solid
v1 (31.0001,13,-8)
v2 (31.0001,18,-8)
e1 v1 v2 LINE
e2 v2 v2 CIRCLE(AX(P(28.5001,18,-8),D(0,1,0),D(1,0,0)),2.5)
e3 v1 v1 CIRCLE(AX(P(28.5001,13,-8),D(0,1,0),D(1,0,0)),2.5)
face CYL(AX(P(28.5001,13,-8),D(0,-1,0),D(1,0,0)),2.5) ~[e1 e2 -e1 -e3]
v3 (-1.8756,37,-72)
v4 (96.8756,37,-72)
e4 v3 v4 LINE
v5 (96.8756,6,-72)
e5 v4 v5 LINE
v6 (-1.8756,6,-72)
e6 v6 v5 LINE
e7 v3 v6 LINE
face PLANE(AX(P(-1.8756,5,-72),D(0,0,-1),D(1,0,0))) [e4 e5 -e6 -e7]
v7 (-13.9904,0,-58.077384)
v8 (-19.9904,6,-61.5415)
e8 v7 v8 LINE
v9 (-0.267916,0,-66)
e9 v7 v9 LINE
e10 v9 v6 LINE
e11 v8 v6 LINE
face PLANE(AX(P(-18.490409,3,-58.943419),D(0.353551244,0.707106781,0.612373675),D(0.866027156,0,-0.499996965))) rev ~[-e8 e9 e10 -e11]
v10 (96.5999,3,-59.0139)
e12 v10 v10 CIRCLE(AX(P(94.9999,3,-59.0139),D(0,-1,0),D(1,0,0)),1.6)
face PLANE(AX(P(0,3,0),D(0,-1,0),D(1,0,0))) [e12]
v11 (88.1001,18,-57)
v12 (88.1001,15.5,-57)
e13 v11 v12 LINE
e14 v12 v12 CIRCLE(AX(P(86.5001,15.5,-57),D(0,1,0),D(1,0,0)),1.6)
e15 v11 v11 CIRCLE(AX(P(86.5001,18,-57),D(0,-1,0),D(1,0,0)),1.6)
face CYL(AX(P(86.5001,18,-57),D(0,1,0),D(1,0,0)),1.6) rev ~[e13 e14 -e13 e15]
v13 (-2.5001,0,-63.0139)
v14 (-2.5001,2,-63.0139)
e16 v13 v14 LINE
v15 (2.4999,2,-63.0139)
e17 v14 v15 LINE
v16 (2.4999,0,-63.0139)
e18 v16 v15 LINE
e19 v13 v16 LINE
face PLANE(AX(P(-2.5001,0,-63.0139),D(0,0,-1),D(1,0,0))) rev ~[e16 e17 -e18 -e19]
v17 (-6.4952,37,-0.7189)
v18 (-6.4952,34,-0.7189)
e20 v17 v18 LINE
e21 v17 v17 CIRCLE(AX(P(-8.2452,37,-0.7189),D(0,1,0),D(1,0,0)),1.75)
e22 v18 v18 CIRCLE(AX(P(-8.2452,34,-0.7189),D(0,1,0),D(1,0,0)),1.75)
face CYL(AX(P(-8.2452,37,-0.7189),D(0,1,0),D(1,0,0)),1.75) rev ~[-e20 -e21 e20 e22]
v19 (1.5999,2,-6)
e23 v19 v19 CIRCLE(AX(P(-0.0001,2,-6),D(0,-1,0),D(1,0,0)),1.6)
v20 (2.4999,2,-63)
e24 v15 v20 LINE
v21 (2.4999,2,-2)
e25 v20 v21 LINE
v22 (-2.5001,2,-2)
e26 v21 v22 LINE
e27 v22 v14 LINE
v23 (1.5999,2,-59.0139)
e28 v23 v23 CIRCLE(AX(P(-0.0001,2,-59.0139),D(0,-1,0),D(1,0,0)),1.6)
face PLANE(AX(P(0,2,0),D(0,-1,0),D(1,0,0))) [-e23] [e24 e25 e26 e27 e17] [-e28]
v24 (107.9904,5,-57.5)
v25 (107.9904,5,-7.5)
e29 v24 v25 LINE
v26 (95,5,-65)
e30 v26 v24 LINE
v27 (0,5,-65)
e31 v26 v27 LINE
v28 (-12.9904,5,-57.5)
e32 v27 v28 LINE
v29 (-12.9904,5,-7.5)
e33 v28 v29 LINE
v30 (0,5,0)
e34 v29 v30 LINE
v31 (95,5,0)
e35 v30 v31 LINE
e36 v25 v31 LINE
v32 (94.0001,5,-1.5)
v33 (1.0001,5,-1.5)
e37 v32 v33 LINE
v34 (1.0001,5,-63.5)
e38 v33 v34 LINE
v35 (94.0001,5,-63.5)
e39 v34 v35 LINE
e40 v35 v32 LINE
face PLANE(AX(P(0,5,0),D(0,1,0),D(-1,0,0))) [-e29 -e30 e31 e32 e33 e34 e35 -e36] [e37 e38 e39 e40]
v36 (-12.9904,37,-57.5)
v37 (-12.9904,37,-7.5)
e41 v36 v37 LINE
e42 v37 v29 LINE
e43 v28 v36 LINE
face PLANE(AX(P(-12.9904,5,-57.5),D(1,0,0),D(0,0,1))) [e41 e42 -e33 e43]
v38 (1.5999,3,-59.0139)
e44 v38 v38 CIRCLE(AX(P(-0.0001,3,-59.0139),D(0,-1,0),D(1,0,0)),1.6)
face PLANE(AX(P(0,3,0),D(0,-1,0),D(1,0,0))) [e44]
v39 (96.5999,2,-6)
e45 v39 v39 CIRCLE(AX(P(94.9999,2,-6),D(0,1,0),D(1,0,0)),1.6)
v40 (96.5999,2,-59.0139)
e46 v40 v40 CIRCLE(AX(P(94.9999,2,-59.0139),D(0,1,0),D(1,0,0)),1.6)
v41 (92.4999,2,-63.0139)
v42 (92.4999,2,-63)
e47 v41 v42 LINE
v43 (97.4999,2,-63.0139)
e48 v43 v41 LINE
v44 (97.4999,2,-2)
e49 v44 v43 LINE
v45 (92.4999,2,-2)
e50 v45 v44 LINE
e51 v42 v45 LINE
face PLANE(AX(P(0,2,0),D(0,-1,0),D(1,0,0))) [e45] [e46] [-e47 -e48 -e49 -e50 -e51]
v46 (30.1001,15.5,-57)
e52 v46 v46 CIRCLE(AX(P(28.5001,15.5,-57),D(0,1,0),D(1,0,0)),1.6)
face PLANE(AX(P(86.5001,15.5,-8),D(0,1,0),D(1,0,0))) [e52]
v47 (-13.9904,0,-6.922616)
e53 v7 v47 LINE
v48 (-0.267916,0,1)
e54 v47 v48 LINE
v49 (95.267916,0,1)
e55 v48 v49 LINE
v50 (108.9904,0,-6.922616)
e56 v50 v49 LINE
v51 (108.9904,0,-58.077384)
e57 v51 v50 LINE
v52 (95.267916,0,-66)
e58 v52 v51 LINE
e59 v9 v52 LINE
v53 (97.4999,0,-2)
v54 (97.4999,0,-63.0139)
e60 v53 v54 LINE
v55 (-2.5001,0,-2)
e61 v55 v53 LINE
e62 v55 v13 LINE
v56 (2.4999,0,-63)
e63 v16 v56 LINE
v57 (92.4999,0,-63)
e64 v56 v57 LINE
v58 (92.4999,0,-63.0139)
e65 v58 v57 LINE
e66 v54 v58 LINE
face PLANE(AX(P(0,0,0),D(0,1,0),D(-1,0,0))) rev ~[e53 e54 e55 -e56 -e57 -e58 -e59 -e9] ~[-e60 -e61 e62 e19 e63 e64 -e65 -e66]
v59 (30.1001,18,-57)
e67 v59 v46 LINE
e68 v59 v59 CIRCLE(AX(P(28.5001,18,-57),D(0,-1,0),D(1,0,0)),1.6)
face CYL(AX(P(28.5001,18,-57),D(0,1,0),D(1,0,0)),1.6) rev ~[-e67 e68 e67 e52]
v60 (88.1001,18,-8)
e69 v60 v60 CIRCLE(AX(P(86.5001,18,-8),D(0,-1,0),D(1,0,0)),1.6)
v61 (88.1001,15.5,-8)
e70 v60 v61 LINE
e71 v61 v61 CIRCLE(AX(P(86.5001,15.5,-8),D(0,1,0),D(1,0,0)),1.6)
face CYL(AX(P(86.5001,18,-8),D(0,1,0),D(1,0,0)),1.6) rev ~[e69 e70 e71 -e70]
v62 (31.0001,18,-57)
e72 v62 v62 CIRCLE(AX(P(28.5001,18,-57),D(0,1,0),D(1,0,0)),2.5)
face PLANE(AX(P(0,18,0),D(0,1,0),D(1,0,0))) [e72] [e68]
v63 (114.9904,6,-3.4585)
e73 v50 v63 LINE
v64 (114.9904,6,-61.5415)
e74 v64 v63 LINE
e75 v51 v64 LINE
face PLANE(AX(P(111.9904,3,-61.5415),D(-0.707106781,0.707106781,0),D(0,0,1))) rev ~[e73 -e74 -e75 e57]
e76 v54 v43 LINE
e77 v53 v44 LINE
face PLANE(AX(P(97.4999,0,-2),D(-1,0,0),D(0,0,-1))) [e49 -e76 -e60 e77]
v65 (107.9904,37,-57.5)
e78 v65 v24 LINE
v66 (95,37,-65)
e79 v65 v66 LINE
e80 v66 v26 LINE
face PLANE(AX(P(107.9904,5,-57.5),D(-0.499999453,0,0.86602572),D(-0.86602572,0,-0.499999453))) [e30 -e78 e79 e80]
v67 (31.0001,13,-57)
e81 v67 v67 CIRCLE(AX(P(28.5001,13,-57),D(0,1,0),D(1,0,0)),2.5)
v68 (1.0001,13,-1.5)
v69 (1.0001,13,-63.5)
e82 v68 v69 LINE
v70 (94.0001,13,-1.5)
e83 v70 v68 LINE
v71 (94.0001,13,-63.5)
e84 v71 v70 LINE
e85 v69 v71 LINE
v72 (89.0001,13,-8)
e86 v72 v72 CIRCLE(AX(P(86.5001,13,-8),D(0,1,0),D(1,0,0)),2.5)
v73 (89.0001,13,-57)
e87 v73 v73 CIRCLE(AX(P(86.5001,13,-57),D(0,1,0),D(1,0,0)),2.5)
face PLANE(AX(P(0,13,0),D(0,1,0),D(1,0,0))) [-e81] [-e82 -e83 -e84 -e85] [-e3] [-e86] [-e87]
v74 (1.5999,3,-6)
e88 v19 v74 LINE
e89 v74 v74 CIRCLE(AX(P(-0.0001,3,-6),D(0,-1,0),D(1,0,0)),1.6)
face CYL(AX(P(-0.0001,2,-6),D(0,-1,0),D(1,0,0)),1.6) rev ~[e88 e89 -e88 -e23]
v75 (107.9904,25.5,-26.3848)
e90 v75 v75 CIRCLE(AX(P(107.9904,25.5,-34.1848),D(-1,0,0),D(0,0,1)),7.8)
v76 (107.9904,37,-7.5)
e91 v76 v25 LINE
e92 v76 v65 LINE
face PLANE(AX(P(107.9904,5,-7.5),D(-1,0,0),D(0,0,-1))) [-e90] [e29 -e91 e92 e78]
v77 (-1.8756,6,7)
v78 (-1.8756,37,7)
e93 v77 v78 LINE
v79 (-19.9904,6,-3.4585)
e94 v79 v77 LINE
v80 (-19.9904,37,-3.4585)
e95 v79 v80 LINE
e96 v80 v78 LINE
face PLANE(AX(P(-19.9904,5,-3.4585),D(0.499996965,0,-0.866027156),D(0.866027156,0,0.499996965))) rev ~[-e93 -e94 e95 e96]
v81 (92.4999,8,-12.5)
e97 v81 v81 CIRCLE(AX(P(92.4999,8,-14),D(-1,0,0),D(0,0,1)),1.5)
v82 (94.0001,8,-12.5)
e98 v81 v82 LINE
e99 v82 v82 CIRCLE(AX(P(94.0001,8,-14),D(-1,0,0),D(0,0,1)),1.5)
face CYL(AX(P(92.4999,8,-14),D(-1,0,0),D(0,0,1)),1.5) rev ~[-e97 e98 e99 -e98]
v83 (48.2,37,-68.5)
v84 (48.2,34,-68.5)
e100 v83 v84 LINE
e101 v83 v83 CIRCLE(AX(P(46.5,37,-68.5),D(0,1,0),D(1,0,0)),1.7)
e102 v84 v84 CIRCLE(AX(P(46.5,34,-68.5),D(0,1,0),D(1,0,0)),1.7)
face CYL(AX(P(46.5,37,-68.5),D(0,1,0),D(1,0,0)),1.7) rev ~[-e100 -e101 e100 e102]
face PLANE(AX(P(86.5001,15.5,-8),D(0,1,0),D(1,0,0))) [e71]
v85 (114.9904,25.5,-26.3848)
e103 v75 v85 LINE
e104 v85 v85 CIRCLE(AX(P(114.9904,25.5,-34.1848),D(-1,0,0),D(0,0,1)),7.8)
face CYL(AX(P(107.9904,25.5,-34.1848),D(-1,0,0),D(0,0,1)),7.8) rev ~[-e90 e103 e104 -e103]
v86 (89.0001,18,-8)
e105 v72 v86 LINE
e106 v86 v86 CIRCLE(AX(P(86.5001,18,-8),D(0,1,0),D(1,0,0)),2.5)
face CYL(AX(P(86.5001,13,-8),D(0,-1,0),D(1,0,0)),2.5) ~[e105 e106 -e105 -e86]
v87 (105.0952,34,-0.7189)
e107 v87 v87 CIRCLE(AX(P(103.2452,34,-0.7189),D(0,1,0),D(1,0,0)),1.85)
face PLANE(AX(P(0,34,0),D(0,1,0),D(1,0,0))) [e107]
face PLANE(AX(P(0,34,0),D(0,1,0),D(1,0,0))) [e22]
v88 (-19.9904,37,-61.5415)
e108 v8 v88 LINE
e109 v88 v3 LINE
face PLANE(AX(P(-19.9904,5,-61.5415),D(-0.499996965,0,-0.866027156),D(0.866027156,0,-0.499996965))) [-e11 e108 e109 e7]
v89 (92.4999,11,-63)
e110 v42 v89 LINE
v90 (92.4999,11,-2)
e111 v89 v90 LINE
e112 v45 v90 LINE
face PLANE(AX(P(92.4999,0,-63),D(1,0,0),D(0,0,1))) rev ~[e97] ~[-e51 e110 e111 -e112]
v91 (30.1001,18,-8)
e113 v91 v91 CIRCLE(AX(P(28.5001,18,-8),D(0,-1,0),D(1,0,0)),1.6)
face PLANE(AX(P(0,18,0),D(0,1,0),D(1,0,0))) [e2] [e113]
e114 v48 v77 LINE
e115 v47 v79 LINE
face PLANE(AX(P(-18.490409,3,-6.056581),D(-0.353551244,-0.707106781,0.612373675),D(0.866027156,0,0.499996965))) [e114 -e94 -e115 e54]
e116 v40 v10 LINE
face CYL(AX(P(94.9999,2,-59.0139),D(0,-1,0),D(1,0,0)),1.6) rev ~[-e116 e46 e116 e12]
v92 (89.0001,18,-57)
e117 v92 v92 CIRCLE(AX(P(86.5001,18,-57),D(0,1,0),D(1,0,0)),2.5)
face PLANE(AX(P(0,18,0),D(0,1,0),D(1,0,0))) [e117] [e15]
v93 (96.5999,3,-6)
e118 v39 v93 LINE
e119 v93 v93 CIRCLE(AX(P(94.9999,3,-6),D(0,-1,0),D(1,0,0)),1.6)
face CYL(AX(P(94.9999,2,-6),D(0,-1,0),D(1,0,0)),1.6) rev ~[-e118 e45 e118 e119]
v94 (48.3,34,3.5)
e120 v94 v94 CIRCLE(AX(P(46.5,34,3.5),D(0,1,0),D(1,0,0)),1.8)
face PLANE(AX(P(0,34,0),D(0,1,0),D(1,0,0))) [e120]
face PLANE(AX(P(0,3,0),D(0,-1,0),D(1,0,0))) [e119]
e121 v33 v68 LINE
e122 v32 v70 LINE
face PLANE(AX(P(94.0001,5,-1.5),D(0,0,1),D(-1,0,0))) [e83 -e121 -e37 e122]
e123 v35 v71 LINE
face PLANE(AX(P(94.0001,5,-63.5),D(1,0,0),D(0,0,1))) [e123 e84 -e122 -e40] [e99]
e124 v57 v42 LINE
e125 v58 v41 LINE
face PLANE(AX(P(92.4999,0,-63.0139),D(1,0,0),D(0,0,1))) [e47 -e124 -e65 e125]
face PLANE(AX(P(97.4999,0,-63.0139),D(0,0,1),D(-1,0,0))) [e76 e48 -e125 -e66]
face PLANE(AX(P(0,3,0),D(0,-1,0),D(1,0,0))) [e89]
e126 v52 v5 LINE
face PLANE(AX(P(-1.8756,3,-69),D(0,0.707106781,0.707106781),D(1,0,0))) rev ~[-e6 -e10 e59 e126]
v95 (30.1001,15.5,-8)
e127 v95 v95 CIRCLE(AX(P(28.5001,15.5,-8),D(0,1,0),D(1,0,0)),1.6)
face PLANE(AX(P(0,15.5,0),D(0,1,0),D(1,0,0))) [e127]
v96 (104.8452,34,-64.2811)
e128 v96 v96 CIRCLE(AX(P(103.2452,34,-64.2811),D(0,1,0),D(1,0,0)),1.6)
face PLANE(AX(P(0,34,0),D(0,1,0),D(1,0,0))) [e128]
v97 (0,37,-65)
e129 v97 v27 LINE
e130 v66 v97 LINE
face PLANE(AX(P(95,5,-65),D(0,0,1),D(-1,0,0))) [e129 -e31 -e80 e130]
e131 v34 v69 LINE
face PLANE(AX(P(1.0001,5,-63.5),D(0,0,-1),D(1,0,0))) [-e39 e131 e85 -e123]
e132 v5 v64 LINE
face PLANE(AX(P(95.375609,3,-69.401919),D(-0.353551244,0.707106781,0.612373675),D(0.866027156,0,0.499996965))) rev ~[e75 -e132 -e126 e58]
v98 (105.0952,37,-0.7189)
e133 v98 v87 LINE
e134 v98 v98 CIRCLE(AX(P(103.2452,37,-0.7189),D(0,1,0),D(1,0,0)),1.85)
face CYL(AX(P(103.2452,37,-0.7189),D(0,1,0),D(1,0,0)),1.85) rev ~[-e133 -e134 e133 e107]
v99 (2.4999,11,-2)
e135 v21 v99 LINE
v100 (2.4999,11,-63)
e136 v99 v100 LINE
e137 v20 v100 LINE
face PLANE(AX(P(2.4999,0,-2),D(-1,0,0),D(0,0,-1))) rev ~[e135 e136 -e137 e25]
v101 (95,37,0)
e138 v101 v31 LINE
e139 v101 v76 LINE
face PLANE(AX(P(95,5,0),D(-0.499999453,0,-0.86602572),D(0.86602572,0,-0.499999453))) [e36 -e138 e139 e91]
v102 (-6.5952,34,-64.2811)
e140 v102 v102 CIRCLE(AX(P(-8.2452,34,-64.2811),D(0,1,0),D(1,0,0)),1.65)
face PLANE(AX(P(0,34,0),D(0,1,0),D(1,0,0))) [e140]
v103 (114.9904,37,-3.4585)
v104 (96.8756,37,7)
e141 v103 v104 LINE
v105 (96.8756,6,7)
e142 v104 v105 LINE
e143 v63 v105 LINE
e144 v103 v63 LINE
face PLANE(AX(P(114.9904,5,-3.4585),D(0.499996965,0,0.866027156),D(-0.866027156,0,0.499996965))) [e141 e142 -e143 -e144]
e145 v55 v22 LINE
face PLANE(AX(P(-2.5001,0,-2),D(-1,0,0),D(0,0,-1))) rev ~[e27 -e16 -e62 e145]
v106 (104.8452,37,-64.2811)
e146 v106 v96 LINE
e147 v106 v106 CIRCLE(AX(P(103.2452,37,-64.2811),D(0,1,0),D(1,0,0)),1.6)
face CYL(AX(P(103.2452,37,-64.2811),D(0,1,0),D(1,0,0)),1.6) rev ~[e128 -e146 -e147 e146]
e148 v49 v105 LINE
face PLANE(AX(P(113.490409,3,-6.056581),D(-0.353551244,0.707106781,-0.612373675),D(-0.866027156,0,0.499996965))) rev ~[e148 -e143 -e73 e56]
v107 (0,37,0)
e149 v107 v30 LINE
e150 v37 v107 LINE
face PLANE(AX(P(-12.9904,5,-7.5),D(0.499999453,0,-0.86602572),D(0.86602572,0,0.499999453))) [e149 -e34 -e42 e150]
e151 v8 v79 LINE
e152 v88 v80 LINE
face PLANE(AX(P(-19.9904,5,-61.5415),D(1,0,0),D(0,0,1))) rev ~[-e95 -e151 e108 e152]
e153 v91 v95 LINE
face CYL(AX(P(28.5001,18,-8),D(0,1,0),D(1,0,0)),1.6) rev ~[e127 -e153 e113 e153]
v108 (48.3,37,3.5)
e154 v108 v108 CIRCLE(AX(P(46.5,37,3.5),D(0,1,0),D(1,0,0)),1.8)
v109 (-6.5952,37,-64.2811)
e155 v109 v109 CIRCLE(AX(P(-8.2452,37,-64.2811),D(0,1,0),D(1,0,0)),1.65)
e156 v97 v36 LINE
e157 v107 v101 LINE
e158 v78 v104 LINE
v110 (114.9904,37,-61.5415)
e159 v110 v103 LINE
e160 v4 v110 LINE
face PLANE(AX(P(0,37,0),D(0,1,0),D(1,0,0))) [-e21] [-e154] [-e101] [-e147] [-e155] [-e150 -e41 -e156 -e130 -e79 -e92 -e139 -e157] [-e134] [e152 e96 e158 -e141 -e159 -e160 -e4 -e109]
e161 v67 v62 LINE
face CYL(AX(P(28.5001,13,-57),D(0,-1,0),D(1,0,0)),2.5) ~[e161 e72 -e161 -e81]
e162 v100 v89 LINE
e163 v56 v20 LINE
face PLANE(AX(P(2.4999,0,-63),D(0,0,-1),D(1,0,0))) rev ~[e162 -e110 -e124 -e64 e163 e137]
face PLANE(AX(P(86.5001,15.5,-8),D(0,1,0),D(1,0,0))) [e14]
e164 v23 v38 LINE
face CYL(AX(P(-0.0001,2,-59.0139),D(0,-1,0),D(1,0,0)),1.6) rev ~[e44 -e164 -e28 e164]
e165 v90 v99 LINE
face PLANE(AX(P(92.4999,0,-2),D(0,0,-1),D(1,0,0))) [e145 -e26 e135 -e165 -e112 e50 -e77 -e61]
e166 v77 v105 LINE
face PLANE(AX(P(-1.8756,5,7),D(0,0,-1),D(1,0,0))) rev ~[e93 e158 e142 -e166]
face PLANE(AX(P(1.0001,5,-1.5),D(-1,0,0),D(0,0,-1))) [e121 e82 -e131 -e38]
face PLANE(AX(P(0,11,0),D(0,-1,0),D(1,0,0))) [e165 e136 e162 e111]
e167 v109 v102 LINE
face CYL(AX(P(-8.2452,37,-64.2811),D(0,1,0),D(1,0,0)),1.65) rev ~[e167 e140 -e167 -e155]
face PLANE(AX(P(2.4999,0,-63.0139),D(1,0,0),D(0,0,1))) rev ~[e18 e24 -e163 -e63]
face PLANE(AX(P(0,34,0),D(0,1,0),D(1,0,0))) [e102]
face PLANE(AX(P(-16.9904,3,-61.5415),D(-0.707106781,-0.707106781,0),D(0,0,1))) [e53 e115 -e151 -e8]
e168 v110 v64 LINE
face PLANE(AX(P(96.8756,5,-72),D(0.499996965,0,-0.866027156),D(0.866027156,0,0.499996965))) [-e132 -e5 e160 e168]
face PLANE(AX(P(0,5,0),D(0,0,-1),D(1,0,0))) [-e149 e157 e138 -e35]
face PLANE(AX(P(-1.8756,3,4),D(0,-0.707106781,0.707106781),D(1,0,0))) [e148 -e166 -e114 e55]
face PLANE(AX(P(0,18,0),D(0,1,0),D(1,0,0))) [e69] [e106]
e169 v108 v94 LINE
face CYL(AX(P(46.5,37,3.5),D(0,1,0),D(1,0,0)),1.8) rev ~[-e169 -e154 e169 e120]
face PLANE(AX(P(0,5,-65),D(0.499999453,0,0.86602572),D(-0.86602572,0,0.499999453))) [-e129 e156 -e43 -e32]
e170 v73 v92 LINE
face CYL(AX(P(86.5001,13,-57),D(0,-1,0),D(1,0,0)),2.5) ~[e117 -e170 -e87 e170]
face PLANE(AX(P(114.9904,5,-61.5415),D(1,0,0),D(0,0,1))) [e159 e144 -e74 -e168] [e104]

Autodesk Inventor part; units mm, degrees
ref_plane "YZ Plane" through (0, 0, 0) normal (1, 0, 0) x (0, 1, 0)
ref_plane "XZ Plane" through (0, 0, 0) normal (0, 1, 0) x (-1, 0, 0)
sketch "Sketch1" plane through (0, 0, 0) normal (0, 1, 0) x (-1, 0, 0)
  line L0 (0, 0) -> (-95, 0)
  line L1 (-95, 0) -> (-95, -65)
  line L2 (-95, -65) -> (0, -65)
  line L3 (0, -65) -> (0, 0)
  line L4 (0, -65) -> (12.9904, -57.5)
  line L5 (12.9904, -57.5) -> (12.9904, -7.5)
  line L6 (12.9904, -7.5) -> (0, 0)
  line L7 (-95, -65) -> (-107.9904, -57.5)
  line L8 (-107.9904, -57.5) -> (-107.9904, -7.5)
  line L9 (-107.9904, -7.5) -> (-95, 0)
  dimension "d0" = 95
  dimension "d1" = 65
  dimension "d2" = 15
  dimension "d3" = 15
  dimension "d4" = 120
  dimension "d5" = 15
  dimension "d6" = 15
  dimension "d7" = 120
extrude "Extrusion1" add sketch "Sketch1" along normal blind 5
sketch "Sketch2" plane through (0, 5, 0) normal (0, 1, 0) x (1, 0, 0)
  line L0 (1.0001, 63.5) -> (94.0001, 63.5)
  line L1 (94.0001, 63.5) -> (94.0001, 1.5)
  line L2 (94.0001, 1.5) -> (1.0001, 1.5)
  line L3 (1.0001, 1.5) -> (1.0001, 63.5)
  line L4 (0, 0) -> (95, 0) projected
  line L5 (-12.9904, 57.5) -> (-12.9904, 7.5) projected
  dimension "d10" = 93
  dimension "d11" = 62
  dimension "d12" = 1.5
  dimension "d13" = 13.9905
extrude "Extrusion2" add sketch "Sketch2" along normal blind 8
sketch "Sketch4" plane through (0, 5, 0) normal (0, 1, 0) x (1, 0, 0)
  line L0 (-12.9904, 57.5) -> (-12.9904, 7.5) projected
  line L1 (-12.9904, 57.5) -> (-12.9904, 7.5)
  line L2 (-12.9904, 7.5) -> (0, 0)
  line L3 (0, 0) -> (95, 0)
  line L4 (95, 0) -> (107.9904, 7.5) projected
  line L5 (95, 0) -> (107.9904, 7.5)
  line L6 (107.9904, 7.5) -> (107.9904, 57.5)
  line L7 (107.9904, 57.5) -> (95, 65) projected
  line L8 (107.9904, 57.5) -> (95, 65)
  line L9 (95, 65) -> (0, 65) projected
  line L10 (95, 65) -> (0, 65)
  line L11 (0, 65) -> (-12.9904, 57.5)
  line L12 (-19.9904, 61.5415) -> (-19.9904, 3.4585)
  line L13 (114.9904, 61.5415) -> (114.9904, 3.4585)
  line L14 (-1.8756, 72) -> (96.8756, 72)
  line L15 (-19.9904, 61.5415) -> (-1.8756, 72)
  line L16 (96.8756, 72) -> (114.9904, 61.5415)
  line L17 (114.9904, 3.4585) -> (96.8756, -7)
  line L18 (-19.9904, 3.4585) -> (-1.8756, -7)
  line L19 (-1.8756, -7) -> (96.8756, -7)
  line L20 (95, 0) -> (107.9904, 7.5) projected
  line L21 (107.9904, 7.5) -> (107.9904, 57.5) projected
  line L22 (0, 0) -> (95, 0) projected
  dimension "d22" = 7
  dimension "d23" = 7
  dimension "d24" = 7
  dimension "d25" = 7
  dimension "d26" = 7
  dimension "d27" = 7
  dimension "d28" = 7
  dimension "d29" = 7
extrude "Extrusion4" add sketch "Sketch4" along normal blind 32 and the other way blind 5
sketch "Sketch5" plane through (0, 0, 0) normal (0, -1, 0) x (1, 0, 0)
  line L0 (2.4999, -63) -> (92.4999, -63)
  line L1 (92.4999, -63) -> (92.4999, -2)
  line L2 (92.4999, -2) -> (2.4999, -2)
  line L3 (2.4999, -2) -> (2.4999, -63)
  line L4 (0, 0) -> (95, 0) projected
  line L5 (-12.9904, -57.5) -> (-12.9904, -7.5) projected
  line L6 (96.8756, 7) -> (-1.8756, 7) projected
  line L7 (114.9904, -61.5415) -> (114.9904, -3.4585) projected
  line L8 (-1.8756, -72) -> (96.8756, -72) projected
  dimension "d34" = 61
  dimension "d35" = 90
  dimension "d44" = 22.4905
  dimension "d128" = 9
extrude "Extrusion5" cut sketch "Sketch5" against normal blind 11
chamfer "Chamfer1" distance 6 angle 45 8 edges at (47.5, 0, -72) (105.933, 0, -66.7707) (114.9904, 0, -32.5) (105.933, 0, 1.7707) (47.5, 0, 7) (-10.933, 0, 1.7707) (-19.9904, 0, -32.5) (-10.933, 0, -66.7707)
sketch "Sketch6" plane through (0, 0, 0) normal (0, -1, 0) x (1, 0, 0)
  line L0 (2.4999, -2) -> (-2.5001, -2)
  line L1 (-2.5001, -2) -> (-2.5001, -63.0139)
  line L2 (-2.5001, -63.0139) -> (2.4999, -63.0139)
  line L3 (2.4999, -63.0139) -> (2.4999, -2)
  line L4 (2.4999, -2) -> (92.4999, -2) projected
  line L5 (92.4999, -2) -> (97.4999, -2)
  line L6 (97.4999, -2) -> (97.4999, -63.0139)
  line L7 (97.4999, -63.0139) -> (92.4999, -63.0139)
  line L8 (92.4999, -63.0139) -> (92.4999, -2)
  point P0 (0, 0)
  dimension "d45" = 5
  dimension "d46" = 5
extrude "Extrusion6" cut sketch "Sketch6" against normal blind 2
sketch "Sketch7" plane through (0, 2, 0) normal (0, -1, 0) x (1, 0, 0)
  circle A0 centre (-0.0001, -6) radius 1.6
  circle A1 centre (94.9999, -6) radius 1.6
  circle A2 centre (-0.0001, -59.0139) radius 1.6
  circle A3 centre (94.9999, -59.0139) radius 1.6
  line L0 (94.0001, -63.5) -> (94.0001, -1.5) projected
  line L1 (2.4999, -2) -> (2.4999, -63) projected
  line L2 (97.4999, -2) -> (97.4999, -63.0139) projected
  line L3 (-2.5001, -2) -> (97.4999, -2) projected
  line L4 (-2.5001, -63.0139) -> (-2.5001, -2) projected
  line L5 (2.4999, -63.0139) -> (-2.5001, -63.0139) projected
  line L6 (92.4999, -63) -> (92.4999, -2) projected
  line L7 (97.4999, -63.0139) -> (92.4999, -63.0139) projected
  point P0 (0, 0)
  dimension "d49" = 3.2
  dimension "d50" = 2.5
  dimension "d51" = 2.5
  dimension "d52" = 4
  dimension "d53" = 0
  dimension "d54" = 2.5
  dimension "d55" = 4
  dimension "d56" = 2.5
  dimension "d57" = 4
extrude "Extrusion7" cut sketch "Sketch7" against normal blind 1 contours A0 | A1 L0 | L0 A1 | L0 A3 | A3 L0 | A2
sketch "Sketch8" plane through (0, 13, 0) normal (0, 1, 0) x (1, 0, 0)
  line L0 (5.0001, 60.5) -> (90.0001, 60.5)
  line L1 (90.0001, 60.5) -> (90.0001, 4.5)
  line L2 (90.0001, 4.5) -> (5.0001, 4.5)
  line L3 (5.0001, 4.5) -> (5.0001, 60.5)
  line L4 (96.8756, 72) -> (-1.8756, 72) projected
  line L5 (-19.9904, 61.5415) -> (-19.9904, 3.4585) projected
  circle A0 centre (28.5001, 57) radius 2.5
  circle A1 centre (28.5001, 8) radius 2.5
  circle A2 centre (86.5001, 57) radius 2.5
  circle A3 centre (86.5001, 8) radius 2.5
  circle A4 centre (28.5001, 8) radius 1.6
  circle A5 centre (86.5001, 8) radius 1.6
  circle A6 centre (86.5001, 57) radius 1.6
  circle A7 centre (28.5001, 57) radius 1.6
  circle A8 centre (28.5001, 57) radius 2.5
  point P0 (0, 0)
  dimension "d60" = 85
  dimension "d61" = 56
  dimension "d62" = 11.5
  dimension "d63" = 24.9905
  dimension "d65" = 3.5
  dimension "d66" = 5
  dimension "d68" = 3.5
  dimension "d69" = 3.5
  dimension "d70" = 3.5
  dimension "d71" = 58
  dimension "d72" = 58
  dimension "d75" = 3.5
  dimension "d76" = 3.5
  dimension "d100" = 3.2
  dimension "d101" = 3.2
  dimension "d102" = 3.2
  dimension "d103" = 3.2
extrude "Extrusion8" add sketch "Sketch8" along normal blind 5 contours A0 | A1 | A2 | A3 | A4 | A5 | A6 | A7
sketch "Sketch9" plane through (92.4999, 11, -63) normal (-1, 0, 0) x (0, 0, 1)
  circle A0 centre (49, -3) radius 1.5
  line L0 (61, 0) -> (0, 0) projected
  line L1 (61, -9) -> (61, 0) projected
  point P0 (63, -11)
  dimension "d77" = 3
  dimension "d78" = 3
  dimension "d79" = 12
extrude "Extrusion9" cut sketch "Sketch9" against normal blind 5
sketch "Sketch10" plane through (0, 37, 0) normal (0, 1, 0) x (1, 0, 0)
  line L0 (-12.9904, 7.5) -> (-12.9904, 57.5) projected
  line L1 (-12.9904, 7.5) -> (-16.4904, 1.4378)
  line L2 (-1.8756, -7) -> (-19.9904, 3.4585) projected
  line L3 (0, 0) -> (95, 0) projected
  line L4 (0, 0) -> (-3.486, -6.038)
  line L5 (-12.9904, 57.5) -> (0, 65) projected
  line L6 (-12.9904, 57.5) -> (-16.4904, 63.5622)
  line L7 (-1.8756, 72) -> (-19.9904, 61.5415) projected
  line L8 (0, 65) -> (-3.5, 71.0622)
  line L9 (0, 65) -> (95, 65) projected
  line L10 (95, 65) -> (98.5, 71.0622)
  line L11 (114.9904, 61.5415) -> (96.8756, 72) projected
  line L12 (107.9904, 57.5) -> (95, 65) projected
  line L13 (107.9904, 57.5) -> (111.4904, 63.5622)
  line L14 (95, 0) -> (107.9904, 7.5) projected
  line L15 (107.9904, 7.5) -> (111.4904, 1.4378)
  line L16 (95, 0) -> (98.5, -6.0622)
  line L17 (96.8756, -7) -> (114.9904, 3.4585) projected
  circle A0 centre (103.2452, 0.7189) radius 1.85
  circle A1 centre (103.2452, 64.2811) radius 1.6
  circle A2 centre (-8.2452, 64.2811) radius 1.65
  circle A3 centre (-8.2452, 0.7189) radius 1.75
  circle A4 centre (46.5, -3.5) radius 1.8
  circle A5 centre (46.5, 68.5) radius 1.7
  line L18 (0, 0) -> (-12.9904, 7.5) projected
  line L19 (-12.9904, 7.5) -> (0, 0) projected
  line L20 (0, 0) -> (0, -7)
  line L21 (-1.8756, -7) -> (96.8756, -7) projected
  line L22 (0, 65) -> (0, 72)
  dimension "d82" = 3.2
  dimension "d83" = 7.5
  dimension "d84" = 90
  dimension "d85" = 3.5
  dimension "d86" = 90
  dimension "d87" = 7.5
  dimension "d88" = 3.5
  dimension "d89" = 7.5
  dimension "d90" = 3.5
  dimension "d91" = 7.5
  dimension "d92" = 3.5
  dimension "d93" = 46.5
  dimension "d95" = 46.5
  dimension "d96" = 3.5
  dimension "d97" = 3.5
  dimension "d129" = 3.4
  dimension "d130" = 3.3
  dimension "d131" = 3.5
  dimension "d132" = 3.7
  dimension "d133" = 3.6
extrude "Extrusion10" cut sketch "Sketch10" against normal blind 3 contours A0 | A1 | A2 | A3 | A4 | A5
ref_plane "Work Plane2" through (0, 18, 0) normal (0, 1, 0) x (1, 0, 0)
sketch "Sketch14" plane through (0, 18, 0) normal (0, 1, 0) x (1, 0, 0)
  circle A0 centre (28.5001, 8) radius 1.6
  circle A1 centre (28.5001, 8) radius 2.5 projected
  line L0 (28.5001, 8) -> (86.5001, 8)
  line L1 (86.5001, 8) -> (86.5001, 64)
  line L2 (86.5001, 64) -> (28.5001, 64)
  line L3 (28.5001, 64) -> (28.5001, 8)
  point P0 (0, 0)
  dimension "d108" = 3.2
  dimension "d109" = 0
  dimension "d110" = 0
  dimension "d117" = 56
  dimension "d118" = 58
extrude "Extrusion11" cut sketch "Sketch14" against normal blind 2.5 contours L0 L3 A0 | A0 L3 L0
sketch "Sketch15" plane through (86.5001, 18, -8) normal (0, 1, 0) x (1, 0, 0)
  circle A0 centre (0, 0) radius 1.6
  circle A1 centre (0, 49) radius 1.6
  circle A2 centre (0, 49) radius 2.5
  circle A3 centre (-58, 0) radius 1.6 projected
  line L0 (-58, 0) -> (0, 0)
  line L1 (0, 0) -> (0, 49)
  line L2 (0, 49) -> (-58, 49)
  line L3 (-58, 49) -> (-58, 0)
  circle A4 centre (-58, 49) radius 1.6
  point P0 (-86.5001, -8)
  dimension "d113" = 3.2
  dimension "d114" = 3.2
  dimension "d115" = 5
  dimension "d116" = 0
  dimension "d119" = 49
  dimension "d120" = 58
  dimension "d121" = 3.2
extrude "Extrusion12" cut sketch "Sketch15" against normal blind 2.5 contours A0 L0 L1 | L1 L0 A0 | L1 L2 A1 | A1 L2 L1 | A4 L3 L2 | L2 L3 A4
sketch "Sketch16" plane through (107.9904, 5, -57.5) normal (-1, 0, 0) x (0, 0, 1)
  circle A0 centre (23.3152, 20.5) radius 7.8
  line L0 (0, 32) -> (50, 32) projected
  line L1 (0, 32) -> (50, 32)
  line L2 (57.5, 0) -> (50, 0) projected
  line L3 (50, 32) -> (50, 0)
  line L4 (50, 0) -> (0, 0)
  line L5 (0, 0) -> (0, 32) projected
  line L6 (0, 0) -> (0, 32)
  line L7 (-52.9421, -1.2141) -> (6.8536, -5)
  line L8 (6.8536, -5) -> (-57.6878, -5)
  line L9 (-57.6878, -5) -> (10.0174, -1.2141)
  point P0 (57.5, -5)
  dimension "d124" = 15.6
  dimension "d125" = 11.5
extrude "Extrusion13" cut sketch "Sketch16" against normal blind 10 contours A0
properties part number "FSCase_Bottom_v6"
